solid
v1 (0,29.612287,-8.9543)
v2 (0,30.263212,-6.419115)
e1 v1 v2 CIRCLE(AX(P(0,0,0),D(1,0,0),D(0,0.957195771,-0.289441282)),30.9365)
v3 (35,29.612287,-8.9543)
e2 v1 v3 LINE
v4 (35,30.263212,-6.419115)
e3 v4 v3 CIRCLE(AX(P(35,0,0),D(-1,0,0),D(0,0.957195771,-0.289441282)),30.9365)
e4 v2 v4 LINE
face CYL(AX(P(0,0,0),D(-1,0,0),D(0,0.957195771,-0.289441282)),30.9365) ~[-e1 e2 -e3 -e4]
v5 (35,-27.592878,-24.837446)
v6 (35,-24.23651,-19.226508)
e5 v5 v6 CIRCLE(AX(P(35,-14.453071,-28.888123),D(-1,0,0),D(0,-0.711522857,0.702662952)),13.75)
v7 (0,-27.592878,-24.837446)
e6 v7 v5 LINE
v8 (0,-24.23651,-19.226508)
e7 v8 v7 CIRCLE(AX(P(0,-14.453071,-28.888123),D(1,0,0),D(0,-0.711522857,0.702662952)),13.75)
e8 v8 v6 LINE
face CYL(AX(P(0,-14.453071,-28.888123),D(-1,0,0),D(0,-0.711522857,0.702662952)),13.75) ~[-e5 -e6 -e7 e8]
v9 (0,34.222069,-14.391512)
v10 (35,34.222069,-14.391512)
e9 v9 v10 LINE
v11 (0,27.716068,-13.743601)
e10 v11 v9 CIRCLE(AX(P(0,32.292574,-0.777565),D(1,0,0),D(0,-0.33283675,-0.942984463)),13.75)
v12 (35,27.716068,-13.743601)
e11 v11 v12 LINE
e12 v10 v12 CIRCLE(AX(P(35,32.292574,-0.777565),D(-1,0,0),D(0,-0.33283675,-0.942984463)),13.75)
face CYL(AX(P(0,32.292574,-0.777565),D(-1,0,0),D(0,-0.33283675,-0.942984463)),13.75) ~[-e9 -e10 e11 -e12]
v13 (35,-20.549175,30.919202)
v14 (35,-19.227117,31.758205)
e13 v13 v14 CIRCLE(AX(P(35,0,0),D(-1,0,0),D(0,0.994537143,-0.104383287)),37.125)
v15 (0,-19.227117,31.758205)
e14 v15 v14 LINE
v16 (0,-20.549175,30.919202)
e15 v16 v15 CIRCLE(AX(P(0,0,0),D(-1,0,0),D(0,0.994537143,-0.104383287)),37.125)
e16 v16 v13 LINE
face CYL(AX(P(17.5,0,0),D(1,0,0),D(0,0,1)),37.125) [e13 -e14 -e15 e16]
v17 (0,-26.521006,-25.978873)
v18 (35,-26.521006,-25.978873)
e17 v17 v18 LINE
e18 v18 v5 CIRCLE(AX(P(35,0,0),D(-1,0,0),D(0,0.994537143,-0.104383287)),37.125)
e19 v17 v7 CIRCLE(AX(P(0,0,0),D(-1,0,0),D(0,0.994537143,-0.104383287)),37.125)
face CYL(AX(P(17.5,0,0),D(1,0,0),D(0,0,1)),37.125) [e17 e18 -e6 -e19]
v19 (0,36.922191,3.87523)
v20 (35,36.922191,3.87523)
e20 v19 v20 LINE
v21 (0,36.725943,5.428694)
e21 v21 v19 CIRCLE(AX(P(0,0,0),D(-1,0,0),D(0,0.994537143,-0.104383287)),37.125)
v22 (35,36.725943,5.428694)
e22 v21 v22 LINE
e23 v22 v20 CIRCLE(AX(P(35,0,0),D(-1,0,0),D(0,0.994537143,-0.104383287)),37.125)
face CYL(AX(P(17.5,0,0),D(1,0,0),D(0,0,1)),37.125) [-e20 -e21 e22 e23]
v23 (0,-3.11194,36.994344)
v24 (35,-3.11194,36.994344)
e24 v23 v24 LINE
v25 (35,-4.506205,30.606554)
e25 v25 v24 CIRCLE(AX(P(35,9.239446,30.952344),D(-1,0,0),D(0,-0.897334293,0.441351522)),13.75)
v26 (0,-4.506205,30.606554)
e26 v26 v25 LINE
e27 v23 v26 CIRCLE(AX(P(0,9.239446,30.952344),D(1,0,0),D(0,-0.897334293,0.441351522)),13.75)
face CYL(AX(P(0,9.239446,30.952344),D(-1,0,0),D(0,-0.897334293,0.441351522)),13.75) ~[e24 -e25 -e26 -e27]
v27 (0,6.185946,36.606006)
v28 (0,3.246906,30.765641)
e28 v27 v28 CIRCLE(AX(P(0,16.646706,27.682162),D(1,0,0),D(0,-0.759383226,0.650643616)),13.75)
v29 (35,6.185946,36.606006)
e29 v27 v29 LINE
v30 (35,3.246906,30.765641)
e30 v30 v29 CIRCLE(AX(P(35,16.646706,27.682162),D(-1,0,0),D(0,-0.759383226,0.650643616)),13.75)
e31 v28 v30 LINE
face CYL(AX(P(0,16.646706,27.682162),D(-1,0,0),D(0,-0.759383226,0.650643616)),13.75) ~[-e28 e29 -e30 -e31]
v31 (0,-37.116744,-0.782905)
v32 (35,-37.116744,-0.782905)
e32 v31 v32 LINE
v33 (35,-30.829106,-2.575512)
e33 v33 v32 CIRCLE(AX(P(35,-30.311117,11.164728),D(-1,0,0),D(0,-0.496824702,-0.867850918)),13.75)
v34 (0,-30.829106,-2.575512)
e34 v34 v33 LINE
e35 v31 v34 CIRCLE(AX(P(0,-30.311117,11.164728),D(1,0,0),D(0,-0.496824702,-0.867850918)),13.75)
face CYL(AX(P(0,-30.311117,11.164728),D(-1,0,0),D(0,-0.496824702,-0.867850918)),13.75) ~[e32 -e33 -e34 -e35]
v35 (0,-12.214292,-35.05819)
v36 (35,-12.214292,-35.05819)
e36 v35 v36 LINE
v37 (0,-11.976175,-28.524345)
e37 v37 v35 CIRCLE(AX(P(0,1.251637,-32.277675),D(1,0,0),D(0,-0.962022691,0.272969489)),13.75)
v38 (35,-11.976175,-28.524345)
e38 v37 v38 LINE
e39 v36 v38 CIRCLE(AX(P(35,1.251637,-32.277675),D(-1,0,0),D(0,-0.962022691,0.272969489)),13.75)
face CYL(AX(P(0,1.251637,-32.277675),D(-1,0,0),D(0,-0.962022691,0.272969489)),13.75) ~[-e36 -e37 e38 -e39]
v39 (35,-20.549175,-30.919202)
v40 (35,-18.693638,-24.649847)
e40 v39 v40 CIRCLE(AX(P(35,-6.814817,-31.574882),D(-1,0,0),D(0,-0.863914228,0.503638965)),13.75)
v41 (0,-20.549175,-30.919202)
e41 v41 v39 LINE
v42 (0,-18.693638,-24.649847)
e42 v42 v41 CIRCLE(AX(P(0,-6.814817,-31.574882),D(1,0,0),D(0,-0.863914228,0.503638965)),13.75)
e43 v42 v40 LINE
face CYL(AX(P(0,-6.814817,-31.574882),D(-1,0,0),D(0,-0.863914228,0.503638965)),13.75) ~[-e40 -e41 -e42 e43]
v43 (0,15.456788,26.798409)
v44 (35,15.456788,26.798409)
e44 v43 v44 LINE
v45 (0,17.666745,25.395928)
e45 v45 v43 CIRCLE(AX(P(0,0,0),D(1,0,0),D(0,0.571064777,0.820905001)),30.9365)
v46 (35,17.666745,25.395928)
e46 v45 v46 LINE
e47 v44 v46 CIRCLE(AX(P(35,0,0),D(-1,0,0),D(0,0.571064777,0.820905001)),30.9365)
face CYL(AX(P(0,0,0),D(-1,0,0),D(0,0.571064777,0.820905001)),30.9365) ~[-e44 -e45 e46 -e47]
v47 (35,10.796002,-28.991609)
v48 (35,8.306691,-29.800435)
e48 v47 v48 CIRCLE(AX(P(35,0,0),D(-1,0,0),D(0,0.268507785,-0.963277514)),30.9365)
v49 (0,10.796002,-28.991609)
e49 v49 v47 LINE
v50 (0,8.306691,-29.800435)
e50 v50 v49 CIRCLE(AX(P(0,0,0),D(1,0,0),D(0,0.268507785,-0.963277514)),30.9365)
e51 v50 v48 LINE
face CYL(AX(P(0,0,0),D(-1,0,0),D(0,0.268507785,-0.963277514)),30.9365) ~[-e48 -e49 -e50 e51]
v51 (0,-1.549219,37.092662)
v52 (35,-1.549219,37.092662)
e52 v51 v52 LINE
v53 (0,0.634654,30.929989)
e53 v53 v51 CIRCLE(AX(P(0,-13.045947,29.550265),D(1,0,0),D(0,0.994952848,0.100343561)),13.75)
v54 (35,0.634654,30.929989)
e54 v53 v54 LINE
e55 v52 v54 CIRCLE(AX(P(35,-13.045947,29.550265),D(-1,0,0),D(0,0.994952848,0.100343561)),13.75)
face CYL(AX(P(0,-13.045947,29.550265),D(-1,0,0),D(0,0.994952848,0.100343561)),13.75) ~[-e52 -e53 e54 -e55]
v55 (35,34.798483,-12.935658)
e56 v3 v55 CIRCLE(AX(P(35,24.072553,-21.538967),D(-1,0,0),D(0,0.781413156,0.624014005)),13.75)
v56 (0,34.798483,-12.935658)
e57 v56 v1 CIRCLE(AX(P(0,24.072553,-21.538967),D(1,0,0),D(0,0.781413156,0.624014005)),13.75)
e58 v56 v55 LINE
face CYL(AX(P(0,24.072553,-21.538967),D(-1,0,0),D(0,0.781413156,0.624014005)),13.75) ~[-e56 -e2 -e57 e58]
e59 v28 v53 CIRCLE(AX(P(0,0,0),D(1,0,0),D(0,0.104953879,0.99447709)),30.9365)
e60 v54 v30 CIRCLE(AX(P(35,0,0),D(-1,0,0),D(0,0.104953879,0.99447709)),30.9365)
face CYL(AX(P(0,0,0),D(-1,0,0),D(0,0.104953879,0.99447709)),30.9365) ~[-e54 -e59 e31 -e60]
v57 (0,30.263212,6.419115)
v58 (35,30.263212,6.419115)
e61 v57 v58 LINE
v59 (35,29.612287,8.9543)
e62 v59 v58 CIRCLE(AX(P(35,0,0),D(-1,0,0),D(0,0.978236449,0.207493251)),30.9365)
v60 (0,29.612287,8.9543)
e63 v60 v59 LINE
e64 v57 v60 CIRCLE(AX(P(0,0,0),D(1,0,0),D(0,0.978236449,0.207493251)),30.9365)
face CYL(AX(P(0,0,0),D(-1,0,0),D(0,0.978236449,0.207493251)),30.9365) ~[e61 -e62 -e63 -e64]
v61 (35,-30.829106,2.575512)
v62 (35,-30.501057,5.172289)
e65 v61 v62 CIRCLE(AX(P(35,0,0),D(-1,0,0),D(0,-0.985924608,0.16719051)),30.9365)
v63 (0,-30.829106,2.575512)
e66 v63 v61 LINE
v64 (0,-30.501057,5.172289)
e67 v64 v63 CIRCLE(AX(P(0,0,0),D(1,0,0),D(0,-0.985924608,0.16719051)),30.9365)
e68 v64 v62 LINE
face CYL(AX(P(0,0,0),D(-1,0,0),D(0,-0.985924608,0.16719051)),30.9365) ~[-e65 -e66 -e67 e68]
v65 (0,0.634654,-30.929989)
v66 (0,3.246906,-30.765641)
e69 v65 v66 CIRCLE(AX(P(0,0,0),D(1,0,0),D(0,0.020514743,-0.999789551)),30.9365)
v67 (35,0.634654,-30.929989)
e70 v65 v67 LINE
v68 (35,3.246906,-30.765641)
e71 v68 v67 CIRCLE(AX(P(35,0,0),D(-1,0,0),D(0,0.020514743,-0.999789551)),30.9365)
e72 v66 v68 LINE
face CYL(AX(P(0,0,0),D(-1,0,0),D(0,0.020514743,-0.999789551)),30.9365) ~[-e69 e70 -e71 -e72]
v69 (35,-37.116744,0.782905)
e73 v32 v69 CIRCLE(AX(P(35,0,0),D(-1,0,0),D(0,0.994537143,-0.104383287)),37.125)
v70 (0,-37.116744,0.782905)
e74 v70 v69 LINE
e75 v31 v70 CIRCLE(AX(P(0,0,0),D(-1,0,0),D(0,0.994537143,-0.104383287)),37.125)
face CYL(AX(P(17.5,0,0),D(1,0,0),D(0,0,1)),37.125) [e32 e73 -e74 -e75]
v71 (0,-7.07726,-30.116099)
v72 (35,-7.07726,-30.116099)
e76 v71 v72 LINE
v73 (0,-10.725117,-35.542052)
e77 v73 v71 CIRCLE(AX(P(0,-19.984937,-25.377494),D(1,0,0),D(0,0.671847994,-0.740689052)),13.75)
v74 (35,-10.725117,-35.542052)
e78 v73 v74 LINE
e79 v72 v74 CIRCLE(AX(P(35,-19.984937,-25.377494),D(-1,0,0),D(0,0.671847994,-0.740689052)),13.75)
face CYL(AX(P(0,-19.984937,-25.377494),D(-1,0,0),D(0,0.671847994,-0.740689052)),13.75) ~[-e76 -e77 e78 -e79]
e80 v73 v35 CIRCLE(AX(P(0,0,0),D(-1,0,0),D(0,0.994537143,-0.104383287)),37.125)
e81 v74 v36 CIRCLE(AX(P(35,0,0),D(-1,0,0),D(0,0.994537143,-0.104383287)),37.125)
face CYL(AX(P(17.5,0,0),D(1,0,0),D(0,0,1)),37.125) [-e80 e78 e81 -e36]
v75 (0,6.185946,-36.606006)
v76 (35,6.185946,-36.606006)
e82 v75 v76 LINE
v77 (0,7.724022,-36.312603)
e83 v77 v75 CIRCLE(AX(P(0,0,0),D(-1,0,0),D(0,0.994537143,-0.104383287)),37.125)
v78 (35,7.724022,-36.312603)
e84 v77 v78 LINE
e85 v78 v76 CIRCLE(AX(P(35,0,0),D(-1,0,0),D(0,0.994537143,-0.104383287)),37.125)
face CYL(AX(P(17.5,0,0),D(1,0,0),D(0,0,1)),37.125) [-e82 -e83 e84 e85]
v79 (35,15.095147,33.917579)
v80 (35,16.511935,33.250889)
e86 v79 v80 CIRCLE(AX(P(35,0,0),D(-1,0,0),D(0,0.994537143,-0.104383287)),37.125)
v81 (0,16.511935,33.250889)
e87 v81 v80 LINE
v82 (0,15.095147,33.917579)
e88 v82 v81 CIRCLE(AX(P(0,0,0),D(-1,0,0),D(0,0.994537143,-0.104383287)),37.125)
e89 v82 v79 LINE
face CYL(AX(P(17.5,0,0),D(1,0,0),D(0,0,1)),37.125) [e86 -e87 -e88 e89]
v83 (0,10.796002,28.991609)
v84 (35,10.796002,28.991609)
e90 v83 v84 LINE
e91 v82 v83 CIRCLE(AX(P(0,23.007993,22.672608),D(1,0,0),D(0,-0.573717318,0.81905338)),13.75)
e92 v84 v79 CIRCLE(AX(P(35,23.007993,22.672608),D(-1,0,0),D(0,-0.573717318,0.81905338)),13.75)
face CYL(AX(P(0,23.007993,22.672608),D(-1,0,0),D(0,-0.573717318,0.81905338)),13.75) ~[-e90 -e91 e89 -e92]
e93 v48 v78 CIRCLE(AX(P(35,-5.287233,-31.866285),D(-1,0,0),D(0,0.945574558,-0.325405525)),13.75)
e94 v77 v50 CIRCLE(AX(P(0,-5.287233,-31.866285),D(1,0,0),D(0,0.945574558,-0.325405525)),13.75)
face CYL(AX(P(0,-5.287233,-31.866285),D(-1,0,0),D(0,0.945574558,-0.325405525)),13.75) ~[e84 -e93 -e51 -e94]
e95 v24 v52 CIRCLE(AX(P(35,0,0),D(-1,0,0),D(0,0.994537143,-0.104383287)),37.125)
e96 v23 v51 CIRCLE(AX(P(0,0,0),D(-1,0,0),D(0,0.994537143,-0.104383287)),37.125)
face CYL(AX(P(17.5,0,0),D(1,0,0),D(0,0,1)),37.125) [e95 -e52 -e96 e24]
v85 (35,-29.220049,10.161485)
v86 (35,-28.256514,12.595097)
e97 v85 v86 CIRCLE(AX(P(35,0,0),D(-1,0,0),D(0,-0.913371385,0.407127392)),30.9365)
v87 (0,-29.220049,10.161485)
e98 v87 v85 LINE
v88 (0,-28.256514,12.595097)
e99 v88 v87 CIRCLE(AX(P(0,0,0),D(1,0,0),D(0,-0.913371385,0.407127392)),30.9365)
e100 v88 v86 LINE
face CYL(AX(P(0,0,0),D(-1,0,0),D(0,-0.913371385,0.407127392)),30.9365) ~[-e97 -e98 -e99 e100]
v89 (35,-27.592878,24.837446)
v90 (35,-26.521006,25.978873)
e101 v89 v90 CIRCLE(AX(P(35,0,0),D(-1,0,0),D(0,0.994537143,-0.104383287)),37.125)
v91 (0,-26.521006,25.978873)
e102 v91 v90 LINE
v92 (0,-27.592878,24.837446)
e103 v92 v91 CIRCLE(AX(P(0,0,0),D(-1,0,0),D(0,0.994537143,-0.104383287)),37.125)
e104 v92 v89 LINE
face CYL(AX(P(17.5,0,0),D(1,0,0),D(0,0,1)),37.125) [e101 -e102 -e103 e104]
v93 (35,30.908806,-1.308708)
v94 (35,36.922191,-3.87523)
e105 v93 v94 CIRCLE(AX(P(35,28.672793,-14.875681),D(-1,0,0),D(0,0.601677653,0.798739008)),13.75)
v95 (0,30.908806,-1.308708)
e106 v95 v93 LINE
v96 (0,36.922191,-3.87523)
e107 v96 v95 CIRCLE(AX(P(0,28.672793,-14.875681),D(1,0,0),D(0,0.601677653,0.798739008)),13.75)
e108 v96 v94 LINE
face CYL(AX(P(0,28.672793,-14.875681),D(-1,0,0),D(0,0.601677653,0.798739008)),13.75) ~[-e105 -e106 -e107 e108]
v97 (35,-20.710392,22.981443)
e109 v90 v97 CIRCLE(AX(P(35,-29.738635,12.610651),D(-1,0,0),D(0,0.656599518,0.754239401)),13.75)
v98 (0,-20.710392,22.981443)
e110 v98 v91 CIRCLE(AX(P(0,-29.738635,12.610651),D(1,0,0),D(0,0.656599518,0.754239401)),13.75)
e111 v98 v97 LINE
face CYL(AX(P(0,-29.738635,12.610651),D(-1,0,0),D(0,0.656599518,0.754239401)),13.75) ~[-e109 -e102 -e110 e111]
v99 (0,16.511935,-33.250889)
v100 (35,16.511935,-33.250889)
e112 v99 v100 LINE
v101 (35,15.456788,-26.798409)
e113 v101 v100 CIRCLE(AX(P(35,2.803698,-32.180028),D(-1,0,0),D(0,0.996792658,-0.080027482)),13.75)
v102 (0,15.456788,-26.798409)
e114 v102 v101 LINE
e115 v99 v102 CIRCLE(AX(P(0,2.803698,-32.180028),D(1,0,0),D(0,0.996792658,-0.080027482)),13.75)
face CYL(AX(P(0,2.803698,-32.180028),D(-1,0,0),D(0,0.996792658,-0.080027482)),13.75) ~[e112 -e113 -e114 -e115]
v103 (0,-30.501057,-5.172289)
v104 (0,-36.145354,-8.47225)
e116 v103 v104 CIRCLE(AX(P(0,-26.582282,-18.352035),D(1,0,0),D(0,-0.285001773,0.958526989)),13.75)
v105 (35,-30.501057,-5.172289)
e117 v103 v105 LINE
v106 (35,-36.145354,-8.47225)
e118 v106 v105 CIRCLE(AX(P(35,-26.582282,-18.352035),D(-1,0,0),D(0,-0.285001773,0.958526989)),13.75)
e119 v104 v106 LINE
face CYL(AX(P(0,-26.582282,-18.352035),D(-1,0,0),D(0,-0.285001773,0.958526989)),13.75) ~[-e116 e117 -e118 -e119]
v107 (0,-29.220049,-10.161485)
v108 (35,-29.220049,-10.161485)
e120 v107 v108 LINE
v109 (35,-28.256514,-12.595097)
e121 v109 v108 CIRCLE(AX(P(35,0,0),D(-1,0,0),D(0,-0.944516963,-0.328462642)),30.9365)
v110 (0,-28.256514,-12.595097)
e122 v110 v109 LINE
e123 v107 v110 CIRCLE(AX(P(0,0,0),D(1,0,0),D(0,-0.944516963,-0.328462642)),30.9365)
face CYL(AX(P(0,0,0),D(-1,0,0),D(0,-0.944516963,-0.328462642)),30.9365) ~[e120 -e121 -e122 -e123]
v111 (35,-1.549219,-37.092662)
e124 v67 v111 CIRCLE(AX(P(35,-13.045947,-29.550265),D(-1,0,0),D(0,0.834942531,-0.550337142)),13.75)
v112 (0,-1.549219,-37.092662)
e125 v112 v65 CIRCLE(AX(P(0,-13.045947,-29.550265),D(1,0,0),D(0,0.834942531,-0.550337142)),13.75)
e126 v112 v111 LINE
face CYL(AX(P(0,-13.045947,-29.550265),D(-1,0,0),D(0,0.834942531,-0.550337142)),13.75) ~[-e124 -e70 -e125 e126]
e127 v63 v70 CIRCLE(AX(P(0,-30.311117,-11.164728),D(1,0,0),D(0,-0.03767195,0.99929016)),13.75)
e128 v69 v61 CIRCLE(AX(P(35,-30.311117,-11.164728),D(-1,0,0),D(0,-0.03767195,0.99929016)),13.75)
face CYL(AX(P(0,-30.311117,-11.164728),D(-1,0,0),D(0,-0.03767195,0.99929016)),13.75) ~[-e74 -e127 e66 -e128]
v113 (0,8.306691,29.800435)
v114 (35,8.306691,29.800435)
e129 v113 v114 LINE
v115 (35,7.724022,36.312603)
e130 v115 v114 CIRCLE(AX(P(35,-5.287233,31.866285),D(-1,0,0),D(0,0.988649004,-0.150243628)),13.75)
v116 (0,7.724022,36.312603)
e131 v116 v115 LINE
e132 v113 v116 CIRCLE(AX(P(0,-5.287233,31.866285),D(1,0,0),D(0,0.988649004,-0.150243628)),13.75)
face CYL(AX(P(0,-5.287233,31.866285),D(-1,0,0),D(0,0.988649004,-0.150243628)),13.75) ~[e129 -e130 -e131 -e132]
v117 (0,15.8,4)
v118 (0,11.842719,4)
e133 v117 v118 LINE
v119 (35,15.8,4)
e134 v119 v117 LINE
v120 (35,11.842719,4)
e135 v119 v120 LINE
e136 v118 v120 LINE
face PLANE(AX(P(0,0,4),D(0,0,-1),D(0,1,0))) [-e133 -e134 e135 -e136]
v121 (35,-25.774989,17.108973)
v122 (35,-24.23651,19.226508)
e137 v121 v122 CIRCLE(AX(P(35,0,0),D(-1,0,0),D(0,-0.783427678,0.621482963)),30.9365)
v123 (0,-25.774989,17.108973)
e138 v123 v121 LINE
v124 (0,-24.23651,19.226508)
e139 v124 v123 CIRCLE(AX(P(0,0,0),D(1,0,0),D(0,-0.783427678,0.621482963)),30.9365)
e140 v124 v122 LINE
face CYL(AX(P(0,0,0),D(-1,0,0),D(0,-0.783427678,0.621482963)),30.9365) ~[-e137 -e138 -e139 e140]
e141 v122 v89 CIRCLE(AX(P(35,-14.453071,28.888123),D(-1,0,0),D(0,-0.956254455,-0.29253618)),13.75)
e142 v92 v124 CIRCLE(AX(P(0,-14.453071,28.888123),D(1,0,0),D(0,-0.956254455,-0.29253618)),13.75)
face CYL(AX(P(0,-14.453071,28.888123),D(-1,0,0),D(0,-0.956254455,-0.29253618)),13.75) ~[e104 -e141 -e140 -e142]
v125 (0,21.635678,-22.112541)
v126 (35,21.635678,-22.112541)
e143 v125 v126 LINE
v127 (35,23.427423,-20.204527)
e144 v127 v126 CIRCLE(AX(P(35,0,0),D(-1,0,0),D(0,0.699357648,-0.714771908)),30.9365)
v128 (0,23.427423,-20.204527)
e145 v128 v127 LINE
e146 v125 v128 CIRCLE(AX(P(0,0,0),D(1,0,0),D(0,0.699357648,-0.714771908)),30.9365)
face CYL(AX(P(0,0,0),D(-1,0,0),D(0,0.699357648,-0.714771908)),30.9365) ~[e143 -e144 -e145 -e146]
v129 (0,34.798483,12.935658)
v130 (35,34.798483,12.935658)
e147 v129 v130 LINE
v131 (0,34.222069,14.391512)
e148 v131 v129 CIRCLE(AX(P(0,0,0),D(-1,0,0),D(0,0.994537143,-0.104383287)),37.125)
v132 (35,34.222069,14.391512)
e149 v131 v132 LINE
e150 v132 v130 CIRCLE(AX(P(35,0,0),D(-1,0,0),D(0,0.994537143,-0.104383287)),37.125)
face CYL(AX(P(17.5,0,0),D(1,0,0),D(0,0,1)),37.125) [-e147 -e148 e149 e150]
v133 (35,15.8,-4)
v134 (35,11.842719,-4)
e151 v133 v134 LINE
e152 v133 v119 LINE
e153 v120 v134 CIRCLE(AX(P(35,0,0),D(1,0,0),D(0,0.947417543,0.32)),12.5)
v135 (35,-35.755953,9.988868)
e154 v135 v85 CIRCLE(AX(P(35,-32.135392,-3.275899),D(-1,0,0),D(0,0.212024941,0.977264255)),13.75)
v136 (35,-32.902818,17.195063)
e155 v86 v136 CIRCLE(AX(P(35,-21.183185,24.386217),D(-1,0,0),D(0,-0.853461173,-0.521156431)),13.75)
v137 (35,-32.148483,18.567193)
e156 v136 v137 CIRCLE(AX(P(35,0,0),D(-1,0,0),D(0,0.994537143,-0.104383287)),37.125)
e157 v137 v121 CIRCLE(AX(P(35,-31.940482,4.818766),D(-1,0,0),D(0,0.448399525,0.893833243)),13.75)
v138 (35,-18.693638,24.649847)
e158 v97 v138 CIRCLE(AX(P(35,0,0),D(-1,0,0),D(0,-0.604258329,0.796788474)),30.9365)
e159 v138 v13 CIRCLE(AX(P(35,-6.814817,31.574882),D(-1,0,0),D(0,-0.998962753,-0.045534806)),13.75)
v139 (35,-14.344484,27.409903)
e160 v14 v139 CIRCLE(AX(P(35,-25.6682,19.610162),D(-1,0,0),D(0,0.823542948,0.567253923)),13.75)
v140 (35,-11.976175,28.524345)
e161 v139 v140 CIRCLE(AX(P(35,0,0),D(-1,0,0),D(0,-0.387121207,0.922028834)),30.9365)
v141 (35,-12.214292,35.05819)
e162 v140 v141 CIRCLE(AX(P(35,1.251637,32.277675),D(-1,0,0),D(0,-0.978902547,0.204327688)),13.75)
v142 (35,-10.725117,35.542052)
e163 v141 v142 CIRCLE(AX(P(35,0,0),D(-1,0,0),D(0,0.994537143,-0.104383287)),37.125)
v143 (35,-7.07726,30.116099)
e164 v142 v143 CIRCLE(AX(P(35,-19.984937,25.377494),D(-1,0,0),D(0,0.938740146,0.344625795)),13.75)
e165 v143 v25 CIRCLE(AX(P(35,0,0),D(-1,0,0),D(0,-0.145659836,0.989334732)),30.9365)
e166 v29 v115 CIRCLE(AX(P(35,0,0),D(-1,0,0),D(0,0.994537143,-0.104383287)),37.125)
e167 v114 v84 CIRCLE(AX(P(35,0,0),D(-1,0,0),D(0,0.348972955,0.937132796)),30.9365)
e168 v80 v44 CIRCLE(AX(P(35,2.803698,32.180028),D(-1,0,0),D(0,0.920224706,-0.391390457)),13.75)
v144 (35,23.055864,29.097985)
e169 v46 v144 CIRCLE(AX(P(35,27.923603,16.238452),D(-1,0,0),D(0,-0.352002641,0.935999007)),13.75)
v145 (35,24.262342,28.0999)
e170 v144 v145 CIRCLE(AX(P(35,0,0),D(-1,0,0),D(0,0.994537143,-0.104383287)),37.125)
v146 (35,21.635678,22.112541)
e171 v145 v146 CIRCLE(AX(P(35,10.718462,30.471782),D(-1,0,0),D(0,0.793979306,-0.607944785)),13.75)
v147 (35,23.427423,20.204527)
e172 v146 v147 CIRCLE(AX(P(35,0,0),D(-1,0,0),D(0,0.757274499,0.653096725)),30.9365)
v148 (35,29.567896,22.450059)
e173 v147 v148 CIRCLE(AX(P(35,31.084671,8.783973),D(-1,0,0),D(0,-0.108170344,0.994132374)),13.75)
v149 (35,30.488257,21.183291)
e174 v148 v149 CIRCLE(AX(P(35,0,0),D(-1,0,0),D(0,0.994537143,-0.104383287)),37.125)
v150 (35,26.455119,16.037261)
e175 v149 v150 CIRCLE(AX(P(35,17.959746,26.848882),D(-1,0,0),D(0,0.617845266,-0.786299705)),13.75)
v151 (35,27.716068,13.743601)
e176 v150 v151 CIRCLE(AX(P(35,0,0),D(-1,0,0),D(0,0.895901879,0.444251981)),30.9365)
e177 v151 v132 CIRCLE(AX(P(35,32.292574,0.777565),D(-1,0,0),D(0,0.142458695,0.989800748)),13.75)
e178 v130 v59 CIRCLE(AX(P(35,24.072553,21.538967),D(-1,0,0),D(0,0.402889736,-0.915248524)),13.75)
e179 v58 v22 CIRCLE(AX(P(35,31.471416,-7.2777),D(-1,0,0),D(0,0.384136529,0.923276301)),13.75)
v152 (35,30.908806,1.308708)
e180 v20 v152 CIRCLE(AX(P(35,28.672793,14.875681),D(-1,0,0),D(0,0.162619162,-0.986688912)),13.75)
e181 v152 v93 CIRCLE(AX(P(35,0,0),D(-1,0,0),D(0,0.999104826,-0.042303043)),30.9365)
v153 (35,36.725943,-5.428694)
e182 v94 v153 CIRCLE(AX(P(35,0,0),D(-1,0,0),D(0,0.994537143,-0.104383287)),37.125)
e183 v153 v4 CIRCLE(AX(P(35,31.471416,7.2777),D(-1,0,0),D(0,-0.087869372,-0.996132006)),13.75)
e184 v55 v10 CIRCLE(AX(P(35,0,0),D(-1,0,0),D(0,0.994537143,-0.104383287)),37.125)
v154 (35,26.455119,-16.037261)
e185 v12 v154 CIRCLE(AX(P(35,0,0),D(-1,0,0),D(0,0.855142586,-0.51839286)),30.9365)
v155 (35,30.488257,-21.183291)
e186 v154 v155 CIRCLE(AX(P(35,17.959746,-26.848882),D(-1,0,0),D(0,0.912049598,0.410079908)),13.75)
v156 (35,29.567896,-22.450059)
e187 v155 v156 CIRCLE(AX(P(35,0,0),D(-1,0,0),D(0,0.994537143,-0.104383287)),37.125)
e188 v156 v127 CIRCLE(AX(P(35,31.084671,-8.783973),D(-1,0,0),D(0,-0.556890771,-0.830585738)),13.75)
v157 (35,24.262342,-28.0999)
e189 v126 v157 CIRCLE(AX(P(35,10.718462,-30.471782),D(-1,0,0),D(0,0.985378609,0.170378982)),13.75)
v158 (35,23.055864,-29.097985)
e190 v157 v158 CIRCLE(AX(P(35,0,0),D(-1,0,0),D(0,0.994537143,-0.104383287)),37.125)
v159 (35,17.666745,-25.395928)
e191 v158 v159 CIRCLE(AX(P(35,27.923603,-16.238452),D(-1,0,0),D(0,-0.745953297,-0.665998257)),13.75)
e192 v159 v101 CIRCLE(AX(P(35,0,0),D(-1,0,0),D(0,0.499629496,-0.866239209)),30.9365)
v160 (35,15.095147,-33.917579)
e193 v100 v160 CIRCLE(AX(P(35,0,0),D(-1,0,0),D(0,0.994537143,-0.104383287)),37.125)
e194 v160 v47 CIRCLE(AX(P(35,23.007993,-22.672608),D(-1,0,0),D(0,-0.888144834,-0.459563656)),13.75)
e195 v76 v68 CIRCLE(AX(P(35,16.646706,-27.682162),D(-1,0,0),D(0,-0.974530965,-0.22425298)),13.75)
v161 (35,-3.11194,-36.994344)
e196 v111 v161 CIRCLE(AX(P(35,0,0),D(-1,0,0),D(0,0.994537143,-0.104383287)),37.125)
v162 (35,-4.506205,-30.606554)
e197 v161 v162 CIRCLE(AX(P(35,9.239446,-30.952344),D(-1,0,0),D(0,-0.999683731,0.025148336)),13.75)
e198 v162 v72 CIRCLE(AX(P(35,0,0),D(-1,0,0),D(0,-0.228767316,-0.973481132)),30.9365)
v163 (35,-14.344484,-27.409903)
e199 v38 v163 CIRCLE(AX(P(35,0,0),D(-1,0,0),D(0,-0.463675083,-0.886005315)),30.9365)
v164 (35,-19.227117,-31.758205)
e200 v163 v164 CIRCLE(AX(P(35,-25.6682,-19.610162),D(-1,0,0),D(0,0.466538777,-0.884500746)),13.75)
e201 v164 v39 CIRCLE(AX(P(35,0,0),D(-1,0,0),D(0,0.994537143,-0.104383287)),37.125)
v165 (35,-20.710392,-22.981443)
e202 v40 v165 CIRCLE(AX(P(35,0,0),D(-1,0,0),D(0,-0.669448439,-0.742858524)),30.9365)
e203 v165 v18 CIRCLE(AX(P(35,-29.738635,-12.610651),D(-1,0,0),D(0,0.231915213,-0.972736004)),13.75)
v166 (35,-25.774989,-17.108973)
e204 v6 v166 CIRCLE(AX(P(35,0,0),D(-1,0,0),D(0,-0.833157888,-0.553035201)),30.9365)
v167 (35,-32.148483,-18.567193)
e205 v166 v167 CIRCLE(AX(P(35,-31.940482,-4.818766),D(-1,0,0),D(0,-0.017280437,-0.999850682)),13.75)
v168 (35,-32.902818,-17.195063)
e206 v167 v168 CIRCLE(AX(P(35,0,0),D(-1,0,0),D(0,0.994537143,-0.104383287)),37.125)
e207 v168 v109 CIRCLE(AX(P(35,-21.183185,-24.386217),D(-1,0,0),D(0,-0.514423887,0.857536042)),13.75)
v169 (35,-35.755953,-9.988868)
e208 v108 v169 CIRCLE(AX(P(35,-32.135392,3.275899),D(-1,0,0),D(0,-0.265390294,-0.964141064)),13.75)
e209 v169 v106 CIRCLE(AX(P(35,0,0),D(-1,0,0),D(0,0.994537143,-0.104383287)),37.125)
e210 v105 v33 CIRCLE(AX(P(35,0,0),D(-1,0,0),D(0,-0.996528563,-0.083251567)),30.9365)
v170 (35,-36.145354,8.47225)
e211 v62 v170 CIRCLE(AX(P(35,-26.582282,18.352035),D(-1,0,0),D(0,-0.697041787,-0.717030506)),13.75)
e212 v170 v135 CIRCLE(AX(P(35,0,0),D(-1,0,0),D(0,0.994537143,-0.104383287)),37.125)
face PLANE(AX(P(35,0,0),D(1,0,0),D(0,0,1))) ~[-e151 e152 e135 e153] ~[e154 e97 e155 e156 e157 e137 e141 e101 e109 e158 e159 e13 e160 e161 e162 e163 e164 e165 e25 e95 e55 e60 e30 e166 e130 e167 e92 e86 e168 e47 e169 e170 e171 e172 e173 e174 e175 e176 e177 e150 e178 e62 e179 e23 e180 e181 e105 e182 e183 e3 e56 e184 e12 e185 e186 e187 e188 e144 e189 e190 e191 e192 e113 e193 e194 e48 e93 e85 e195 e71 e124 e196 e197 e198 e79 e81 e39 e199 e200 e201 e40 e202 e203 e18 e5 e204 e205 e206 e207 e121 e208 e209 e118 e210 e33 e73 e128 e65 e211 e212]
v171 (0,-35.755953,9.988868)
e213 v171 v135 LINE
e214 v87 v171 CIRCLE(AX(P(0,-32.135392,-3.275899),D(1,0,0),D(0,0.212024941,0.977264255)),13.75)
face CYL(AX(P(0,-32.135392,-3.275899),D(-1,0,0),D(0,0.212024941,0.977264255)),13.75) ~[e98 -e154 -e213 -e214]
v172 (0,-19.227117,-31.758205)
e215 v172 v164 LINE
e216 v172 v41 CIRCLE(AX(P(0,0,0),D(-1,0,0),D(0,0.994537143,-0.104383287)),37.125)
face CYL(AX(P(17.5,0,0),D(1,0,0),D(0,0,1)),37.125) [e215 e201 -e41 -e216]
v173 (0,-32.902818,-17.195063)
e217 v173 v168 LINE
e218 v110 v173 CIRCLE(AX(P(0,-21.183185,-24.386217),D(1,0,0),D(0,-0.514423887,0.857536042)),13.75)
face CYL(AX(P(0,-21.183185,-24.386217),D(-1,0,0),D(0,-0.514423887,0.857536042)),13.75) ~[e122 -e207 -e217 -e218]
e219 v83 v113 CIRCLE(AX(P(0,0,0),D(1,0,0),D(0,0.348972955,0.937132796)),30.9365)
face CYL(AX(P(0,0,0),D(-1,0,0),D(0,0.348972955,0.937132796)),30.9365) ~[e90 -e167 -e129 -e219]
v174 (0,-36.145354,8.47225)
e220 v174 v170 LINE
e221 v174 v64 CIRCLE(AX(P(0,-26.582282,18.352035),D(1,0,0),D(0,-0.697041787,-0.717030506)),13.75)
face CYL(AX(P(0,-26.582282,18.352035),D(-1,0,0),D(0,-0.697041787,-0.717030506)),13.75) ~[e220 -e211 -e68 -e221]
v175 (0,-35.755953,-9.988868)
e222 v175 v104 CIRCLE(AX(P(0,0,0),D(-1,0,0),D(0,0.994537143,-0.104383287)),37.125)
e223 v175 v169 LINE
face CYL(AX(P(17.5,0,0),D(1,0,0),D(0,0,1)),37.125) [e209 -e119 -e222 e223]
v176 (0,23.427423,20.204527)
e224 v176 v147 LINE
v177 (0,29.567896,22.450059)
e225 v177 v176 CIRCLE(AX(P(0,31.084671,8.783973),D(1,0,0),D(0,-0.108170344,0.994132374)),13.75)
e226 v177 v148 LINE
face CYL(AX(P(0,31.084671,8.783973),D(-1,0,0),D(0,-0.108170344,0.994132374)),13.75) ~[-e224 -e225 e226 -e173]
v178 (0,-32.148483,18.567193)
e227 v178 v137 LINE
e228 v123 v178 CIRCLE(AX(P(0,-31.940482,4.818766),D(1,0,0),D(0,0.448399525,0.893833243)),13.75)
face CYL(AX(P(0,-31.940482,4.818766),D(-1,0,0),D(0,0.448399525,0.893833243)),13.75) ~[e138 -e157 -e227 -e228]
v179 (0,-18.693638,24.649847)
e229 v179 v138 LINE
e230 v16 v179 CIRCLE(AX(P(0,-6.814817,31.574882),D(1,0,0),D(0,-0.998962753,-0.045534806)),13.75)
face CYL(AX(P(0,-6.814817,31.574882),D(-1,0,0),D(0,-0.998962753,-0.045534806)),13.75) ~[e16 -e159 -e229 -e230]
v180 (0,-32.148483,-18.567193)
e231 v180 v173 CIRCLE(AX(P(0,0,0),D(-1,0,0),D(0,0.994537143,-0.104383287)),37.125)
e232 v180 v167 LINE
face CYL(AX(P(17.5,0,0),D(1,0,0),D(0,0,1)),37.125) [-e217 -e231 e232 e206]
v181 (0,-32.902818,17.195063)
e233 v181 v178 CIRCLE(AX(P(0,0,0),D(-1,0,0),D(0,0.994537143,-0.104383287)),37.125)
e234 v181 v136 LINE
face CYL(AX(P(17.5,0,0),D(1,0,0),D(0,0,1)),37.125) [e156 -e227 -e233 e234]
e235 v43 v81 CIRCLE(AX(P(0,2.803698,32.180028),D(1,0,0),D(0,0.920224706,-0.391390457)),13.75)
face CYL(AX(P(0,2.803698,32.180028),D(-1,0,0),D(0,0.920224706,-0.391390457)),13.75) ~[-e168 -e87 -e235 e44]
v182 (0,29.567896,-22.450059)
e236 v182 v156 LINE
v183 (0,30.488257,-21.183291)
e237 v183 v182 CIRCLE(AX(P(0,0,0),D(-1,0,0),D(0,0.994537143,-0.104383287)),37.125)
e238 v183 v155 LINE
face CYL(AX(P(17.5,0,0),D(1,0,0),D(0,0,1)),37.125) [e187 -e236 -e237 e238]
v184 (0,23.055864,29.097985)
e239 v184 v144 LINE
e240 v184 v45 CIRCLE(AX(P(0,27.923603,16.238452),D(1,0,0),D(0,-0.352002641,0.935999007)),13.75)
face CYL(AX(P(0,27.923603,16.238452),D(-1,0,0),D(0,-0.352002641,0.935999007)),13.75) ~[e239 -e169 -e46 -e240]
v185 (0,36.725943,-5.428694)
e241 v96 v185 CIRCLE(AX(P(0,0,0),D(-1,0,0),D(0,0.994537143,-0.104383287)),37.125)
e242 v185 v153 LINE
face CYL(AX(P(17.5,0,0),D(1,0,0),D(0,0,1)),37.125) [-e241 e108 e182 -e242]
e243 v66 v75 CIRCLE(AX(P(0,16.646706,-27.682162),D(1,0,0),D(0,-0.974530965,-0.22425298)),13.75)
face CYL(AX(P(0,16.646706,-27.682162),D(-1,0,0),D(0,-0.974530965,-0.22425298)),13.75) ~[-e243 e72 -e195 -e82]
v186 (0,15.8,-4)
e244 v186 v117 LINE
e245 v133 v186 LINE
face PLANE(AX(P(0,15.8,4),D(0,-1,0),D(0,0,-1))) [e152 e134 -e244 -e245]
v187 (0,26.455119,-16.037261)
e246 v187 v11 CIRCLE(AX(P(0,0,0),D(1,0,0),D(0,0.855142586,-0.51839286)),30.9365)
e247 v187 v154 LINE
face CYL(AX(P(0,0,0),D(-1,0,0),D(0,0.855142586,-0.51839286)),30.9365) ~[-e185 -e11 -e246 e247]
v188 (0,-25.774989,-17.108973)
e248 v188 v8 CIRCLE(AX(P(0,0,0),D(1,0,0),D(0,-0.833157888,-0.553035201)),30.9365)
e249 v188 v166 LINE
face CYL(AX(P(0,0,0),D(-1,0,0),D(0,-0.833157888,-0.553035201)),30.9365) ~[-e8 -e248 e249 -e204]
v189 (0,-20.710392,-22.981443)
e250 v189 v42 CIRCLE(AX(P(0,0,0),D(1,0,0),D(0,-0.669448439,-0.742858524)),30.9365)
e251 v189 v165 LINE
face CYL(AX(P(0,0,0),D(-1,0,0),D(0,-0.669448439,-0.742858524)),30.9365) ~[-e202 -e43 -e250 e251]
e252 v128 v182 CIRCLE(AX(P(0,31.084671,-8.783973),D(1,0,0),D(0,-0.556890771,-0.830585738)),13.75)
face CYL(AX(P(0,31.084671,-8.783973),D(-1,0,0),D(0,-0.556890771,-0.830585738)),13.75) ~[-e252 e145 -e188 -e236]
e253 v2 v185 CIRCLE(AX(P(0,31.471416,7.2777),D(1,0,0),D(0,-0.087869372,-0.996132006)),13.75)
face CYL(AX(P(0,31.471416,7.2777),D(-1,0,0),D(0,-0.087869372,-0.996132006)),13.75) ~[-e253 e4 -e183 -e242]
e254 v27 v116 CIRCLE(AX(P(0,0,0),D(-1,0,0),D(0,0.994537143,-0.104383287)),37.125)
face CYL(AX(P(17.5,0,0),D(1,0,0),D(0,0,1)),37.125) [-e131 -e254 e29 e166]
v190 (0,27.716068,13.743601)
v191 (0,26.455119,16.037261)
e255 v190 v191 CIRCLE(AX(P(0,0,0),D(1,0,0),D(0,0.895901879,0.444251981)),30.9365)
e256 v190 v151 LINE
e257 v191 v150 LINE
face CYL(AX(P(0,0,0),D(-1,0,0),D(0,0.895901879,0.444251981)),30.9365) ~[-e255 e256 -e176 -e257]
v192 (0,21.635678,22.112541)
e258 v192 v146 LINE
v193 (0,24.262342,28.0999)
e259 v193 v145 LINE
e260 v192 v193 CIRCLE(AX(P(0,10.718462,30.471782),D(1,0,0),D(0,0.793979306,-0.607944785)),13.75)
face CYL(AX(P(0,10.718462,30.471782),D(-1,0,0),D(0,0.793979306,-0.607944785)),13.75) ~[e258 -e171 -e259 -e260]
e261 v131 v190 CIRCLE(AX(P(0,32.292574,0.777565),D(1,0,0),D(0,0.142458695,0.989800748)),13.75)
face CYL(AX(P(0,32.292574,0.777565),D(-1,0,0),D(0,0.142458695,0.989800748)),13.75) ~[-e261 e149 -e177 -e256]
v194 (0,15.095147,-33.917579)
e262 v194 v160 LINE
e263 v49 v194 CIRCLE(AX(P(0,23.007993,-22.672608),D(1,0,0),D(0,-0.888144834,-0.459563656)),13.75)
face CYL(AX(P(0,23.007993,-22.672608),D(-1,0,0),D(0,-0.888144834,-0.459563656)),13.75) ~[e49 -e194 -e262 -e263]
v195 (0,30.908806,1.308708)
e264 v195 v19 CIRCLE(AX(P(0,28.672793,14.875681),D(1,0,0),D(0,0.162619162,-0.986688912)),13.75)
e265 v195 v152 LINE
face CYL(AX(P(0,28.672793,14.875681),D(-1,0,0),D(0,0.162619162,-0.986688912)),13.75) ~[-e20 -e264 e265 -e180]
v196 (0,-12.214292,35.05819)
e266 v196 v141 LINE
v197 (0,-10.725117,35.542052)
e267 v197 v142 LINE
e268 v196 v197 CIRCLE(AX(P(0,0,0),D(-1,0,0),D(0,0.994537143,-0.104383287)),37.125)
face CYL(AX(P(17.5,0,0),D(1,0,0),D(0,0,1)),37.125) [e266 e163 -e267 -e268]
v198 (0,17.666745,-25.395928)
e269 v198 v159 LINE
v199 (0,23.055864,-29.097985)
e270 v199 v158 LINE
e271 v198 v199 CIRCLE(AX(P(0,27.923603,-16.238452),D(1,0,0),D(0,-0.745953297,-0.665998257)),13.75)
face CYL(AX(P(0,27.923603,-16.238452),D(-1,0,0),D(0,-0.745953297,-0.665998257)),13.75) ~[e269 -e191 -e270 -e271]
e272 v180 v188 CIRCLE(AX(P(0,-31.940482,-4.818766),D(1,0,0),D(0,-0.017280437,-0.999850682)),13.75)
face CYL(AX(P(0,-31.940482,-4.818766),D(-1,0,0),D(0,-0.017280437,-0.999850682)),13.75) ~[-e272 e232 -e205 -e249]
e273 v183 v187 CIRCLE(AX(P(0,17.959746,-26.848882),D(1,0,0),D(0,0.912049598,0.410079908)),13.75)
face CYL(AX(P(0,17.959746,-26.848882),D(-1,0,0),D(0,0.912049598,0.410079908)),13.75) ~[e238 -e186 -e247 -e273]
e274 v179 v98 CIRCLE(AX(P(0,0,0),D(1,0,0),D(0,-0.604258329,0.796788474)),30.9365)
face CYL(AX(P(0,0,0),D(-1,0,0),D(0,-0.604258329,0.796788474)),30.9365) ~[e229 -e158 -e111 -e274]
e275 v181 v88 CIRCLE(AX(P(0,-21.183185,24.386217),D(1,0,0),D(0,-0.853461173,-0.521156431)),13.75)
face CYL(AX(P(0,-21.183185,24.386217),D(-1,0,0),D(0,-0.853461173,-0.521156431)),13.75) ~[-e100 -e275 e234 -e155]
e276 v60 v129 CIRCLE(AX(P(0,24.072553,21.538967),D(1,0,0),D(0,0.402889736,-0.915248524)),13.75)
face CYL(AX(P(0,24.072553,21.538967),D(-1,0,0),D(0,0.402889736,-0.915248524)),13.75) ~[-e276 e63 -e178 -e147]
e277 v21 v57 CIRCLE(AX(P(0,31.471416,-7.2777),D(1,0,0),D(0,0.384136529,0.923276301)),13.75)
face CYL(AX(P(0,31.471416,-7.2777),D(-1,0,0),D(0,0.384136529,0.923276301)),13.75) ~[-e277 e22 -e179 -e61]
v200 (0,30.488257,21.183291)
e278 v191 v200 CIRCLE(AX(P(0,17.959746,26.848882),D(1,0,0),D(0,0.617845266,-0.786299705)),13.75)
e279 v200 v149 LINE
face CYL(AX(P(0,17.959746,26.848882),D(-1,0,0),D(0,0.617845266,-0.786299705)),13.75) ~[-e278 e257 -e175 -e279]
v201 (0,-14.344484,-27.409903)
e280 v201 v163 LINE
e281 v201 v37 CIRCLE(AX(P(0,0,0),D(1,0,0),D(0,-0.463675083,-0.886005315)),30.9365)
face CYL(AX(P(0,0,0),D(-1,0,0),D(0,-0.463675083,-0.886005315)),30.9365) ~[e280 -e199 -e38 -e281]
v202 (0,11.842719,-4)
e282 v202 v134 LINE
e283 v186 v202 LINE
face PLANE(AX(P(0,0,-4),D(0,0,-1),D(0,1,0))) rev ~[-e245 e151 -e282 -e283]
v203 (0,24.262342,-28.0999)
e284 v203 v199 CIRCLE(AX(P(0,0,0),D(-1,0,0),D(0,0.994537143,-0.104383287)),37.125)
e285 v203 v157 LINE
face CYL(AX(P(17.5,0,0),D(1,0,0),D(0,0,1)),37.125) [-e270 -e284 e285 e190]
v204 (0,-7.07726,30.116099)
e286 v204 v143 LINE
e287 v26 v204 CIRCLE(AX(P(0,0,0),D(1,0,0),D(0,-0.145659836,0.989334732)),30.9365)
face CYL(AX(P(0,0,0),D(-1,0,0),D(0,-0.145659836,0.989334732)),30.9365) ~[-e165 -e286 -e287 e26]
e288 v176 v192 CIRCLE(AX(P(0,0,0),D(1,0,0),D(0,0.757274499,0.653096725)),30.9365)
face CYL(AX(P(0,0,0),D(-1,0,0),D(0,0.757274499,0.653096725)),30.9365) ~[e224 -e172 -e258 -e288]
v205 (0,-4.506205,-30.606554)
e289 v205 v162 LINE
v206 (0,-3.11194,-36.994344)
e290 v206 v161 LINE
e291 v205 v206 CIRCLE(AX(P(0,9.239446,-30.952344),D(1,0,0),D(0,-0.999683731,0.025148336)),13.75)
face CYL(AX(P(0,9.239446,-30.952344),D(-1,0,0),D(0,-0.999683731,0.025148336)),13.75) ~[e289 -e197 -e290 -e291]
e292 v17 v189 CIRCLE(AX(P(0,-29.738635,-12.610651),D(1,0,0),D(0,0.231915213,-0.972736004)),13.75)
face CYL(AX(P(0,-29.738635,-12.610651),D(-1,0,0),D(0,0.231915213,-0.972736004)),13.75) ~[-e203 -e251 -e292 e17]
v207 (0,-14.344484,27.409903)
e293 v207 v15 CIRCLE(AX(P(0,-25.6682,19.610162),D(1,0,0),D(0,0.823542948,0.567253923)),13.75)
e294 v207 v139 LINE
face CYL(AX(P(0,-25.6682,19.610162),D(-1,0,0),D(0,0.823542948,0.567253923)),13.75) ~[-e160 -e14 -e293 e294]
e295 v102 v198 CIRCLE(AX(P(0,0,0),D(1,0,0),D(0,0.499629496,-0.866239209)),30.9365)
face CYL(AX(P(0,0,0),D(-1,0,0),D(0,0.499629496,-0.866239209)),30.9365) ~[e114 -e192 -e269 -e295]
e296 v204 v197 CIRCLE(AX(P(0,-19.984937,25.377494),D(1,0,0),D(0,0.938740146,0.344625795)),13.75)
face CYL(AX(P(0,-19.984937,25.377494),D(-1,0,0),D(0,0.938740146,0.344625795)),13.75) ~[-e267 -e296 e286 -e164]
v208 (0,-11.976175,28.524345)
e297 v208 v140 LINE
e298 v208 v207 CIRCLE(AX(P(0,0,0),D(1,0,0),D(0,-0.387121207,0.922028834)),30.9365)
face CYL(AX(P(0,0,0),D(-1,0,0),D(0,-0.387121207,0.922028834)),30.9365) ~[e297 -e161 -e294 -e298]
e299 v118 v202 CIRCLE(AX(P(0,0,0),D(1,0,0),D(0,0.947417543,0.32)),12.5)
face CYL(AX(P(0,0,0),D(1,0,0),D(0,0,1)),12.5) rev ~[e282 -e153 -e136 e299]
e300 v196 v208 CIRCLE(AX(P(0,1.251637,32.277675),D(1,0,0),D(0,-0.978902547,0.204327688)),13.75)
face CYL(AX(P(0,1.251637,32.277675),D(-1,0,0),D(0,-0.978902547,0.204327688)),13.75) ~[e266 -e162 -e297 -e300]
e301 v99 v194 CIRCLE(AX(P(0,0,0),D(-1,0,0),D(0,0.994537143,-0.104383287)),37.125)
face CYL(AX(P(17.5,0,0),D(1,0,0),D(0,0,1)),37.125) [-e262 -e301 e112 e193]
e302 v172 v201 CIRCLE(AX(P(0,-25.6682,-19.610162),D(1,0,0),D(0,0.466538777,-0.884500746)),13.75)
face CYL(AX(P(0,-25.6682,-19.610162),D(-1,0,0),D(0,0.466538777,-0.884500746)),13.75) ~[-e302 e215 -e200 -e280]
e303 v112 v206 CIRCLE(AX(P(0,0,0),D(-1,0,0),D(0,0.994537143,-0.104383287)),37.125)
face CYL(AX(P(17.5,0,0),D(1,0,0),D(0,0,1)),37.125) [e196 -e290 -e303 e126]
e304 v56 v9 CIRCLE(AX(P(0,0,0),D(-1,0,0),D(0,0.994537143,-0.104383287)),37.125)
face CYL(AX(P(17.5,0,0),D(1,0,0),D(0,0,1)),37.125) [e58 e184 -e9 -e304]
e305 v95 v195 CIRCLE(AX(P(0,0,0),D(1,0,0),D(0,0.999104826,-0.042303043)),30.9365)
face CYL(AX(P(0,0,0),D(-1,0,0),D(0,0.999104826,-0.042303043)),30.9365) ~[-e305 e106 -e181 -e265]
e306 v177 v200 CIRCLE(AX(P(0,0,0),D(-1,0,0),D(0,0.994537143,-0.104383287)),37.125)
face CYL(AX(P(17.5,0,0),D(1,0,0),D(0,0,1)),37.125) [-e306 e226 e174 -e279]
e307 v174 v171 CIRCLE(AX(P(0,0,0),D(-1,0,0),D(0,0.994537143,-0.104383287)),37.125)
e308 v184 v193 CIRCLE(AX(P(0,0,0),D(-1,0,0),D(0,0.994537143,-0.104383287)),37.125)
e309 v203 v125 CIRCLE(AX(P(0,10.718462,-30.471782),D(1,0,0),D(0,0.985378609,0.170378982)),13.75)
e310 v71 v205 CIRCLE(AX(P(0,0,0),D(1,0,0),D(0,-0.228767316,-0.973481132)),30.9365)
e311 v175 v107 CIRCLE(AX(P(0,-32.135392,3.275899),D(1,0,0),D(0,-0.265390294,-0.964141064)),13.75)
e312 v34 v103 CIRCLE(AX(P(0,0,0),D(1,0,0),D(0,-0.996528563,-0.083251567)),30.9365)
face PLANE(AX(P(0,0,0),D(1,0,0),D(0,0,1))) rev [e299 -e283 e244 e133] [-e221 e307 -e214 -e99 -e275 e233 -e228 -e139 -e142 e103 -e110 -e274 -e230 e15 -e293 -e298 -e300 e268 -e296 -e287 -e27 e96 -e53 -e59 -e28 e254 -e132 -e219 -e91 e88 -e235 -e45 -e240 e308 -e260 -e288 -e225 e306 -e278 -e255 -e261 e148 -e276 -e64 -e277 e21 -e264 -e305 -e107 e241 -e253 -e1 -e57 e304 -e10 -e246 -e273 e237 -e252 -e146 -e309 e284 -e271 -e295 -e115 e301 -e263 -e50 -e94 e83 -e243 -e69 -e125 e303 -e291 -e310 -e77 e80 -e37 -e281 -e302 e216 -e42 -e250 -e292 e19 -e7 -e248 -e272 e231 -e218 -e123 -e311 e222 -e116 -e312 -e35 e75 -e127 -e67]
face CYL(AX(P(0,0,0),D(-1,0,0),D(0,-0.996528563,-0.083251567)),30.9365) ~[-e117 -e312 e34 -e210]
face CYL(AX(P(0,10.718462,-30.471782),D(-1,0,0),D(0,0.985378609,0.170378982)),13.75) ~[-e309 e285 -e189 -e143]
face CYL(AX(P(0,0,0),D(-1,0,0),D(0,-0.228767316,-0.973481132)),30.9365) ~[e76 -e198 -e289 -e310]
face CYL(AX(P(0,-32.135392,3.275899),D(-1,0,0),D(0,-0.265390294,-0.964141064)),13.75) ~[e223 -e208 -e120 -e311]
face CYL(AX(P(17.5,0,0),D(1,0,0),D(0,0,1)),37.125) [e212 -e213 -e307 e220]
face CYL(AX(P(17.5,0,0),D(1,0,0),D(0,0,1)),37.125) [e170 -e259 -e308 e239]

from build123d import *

# Parameters (mm, degrees)
BASPROSKE_W     = 35
BASPROSKE_H     = 37.125
TOOTHCUT_DEPTH  = 64.099375987
TEETHCUTS_COUNT = 25
TEETHCUTS_ANGLE = 345.6
BORSKE_R        = 12.5
BORE_DEPTH      = 50.0000508
KEYSKE_W        = 8
KEYSKE_H        = 15.8
KEYWAY_DEPTH    = 50.0000508


with BuildPart() as part:
    # BasProSke → Base-Revolve (revolve)
    with BuildSketch(Plane(origin=(0, 0, 0), x_dir=(1, 0, 0), z_dir=(0, 1, 0)), mode=Mode.PRIVATE) as base_revolve_sk:
        with Locations((17.5, 18.5625)):
            Rectangle(BASPROSKE_W, BASPROSKE_H)
    revolve(base_revolve_sk.sketch.rotate(Axis((-10, 0, 0), (1, 0, 0)), 180), axis=Axis((-10, 0, 0), (1, 0, 0)))

    # TooCutSke → ToothCut (cut, through all)
    with BuildSketch(Plane(origin=(0, 0, 0), x_dir=(0, 0, -1), z_dir=(1, 0, 0))):
        with BuildLine():
            ThreePointArc((1.308708101, 30.908806437), (0, 30.9365), (-1.308708101, 30.908806437))
            ThreePointArc((-1.308708101, 30.908806437), (-2.23516494, 34.083879999), (-3.893019277, 36.945860676))
            ThreePointArc((-3.893019277, 36.945860676), (0, 37.1504), (3.893019277, 36.945860676))
            ThreePointArc((3.893019277, 36.945860676), (2.23516494, 34.083879999), (1.308708101, 30.908806437))
        make_face()
    toothcut = extrude(amount=TOOTHCUT_DEPTH, mode=Mode.SUBTRACT)

    # TeethCuts: ToothCut ×25 about axis
    teethcuts_axis = Axis((-10, 0, 0), (1, 0, 0))
    for i in range(1, TEETHCUTS_COUNT):
        add(toothcut.rotate(teethcuts_axis, i * TEETHCUTS_ANGLE / (TEETHCUTS_COUNT - 1)), mode=Mode.SUBTRACT)

    # BorSke → Bore (cut, symmetric)
    with BuildSketch(Plane(origin=(0, 0, 0), x_dir=(0, 0, -1), z_dir=(1, 0, 0))):
        with Locations(Location((0, 0, 0), (0, 0, 180))):
            Circle(BORSKE_R)
    extrude(amount=BORE_DEPTH, both=True, mode=Mode.SUBTRACT)

    # KeySke → Keyway (cut, symmetric)
    with BuildSketch(Plane(origin=(0, 0, 0), x_dir=(0, 0, -1), z_dir=(1, 0, 0))):
        with Locations((0, 7.9)):
            Rectangle(KEYSKE_W, KEYSKE_H)
    extrude(amount=KEYWAY_DEPTH, both=True, mode=Mode.SUBTRACT)


solid = part.part
